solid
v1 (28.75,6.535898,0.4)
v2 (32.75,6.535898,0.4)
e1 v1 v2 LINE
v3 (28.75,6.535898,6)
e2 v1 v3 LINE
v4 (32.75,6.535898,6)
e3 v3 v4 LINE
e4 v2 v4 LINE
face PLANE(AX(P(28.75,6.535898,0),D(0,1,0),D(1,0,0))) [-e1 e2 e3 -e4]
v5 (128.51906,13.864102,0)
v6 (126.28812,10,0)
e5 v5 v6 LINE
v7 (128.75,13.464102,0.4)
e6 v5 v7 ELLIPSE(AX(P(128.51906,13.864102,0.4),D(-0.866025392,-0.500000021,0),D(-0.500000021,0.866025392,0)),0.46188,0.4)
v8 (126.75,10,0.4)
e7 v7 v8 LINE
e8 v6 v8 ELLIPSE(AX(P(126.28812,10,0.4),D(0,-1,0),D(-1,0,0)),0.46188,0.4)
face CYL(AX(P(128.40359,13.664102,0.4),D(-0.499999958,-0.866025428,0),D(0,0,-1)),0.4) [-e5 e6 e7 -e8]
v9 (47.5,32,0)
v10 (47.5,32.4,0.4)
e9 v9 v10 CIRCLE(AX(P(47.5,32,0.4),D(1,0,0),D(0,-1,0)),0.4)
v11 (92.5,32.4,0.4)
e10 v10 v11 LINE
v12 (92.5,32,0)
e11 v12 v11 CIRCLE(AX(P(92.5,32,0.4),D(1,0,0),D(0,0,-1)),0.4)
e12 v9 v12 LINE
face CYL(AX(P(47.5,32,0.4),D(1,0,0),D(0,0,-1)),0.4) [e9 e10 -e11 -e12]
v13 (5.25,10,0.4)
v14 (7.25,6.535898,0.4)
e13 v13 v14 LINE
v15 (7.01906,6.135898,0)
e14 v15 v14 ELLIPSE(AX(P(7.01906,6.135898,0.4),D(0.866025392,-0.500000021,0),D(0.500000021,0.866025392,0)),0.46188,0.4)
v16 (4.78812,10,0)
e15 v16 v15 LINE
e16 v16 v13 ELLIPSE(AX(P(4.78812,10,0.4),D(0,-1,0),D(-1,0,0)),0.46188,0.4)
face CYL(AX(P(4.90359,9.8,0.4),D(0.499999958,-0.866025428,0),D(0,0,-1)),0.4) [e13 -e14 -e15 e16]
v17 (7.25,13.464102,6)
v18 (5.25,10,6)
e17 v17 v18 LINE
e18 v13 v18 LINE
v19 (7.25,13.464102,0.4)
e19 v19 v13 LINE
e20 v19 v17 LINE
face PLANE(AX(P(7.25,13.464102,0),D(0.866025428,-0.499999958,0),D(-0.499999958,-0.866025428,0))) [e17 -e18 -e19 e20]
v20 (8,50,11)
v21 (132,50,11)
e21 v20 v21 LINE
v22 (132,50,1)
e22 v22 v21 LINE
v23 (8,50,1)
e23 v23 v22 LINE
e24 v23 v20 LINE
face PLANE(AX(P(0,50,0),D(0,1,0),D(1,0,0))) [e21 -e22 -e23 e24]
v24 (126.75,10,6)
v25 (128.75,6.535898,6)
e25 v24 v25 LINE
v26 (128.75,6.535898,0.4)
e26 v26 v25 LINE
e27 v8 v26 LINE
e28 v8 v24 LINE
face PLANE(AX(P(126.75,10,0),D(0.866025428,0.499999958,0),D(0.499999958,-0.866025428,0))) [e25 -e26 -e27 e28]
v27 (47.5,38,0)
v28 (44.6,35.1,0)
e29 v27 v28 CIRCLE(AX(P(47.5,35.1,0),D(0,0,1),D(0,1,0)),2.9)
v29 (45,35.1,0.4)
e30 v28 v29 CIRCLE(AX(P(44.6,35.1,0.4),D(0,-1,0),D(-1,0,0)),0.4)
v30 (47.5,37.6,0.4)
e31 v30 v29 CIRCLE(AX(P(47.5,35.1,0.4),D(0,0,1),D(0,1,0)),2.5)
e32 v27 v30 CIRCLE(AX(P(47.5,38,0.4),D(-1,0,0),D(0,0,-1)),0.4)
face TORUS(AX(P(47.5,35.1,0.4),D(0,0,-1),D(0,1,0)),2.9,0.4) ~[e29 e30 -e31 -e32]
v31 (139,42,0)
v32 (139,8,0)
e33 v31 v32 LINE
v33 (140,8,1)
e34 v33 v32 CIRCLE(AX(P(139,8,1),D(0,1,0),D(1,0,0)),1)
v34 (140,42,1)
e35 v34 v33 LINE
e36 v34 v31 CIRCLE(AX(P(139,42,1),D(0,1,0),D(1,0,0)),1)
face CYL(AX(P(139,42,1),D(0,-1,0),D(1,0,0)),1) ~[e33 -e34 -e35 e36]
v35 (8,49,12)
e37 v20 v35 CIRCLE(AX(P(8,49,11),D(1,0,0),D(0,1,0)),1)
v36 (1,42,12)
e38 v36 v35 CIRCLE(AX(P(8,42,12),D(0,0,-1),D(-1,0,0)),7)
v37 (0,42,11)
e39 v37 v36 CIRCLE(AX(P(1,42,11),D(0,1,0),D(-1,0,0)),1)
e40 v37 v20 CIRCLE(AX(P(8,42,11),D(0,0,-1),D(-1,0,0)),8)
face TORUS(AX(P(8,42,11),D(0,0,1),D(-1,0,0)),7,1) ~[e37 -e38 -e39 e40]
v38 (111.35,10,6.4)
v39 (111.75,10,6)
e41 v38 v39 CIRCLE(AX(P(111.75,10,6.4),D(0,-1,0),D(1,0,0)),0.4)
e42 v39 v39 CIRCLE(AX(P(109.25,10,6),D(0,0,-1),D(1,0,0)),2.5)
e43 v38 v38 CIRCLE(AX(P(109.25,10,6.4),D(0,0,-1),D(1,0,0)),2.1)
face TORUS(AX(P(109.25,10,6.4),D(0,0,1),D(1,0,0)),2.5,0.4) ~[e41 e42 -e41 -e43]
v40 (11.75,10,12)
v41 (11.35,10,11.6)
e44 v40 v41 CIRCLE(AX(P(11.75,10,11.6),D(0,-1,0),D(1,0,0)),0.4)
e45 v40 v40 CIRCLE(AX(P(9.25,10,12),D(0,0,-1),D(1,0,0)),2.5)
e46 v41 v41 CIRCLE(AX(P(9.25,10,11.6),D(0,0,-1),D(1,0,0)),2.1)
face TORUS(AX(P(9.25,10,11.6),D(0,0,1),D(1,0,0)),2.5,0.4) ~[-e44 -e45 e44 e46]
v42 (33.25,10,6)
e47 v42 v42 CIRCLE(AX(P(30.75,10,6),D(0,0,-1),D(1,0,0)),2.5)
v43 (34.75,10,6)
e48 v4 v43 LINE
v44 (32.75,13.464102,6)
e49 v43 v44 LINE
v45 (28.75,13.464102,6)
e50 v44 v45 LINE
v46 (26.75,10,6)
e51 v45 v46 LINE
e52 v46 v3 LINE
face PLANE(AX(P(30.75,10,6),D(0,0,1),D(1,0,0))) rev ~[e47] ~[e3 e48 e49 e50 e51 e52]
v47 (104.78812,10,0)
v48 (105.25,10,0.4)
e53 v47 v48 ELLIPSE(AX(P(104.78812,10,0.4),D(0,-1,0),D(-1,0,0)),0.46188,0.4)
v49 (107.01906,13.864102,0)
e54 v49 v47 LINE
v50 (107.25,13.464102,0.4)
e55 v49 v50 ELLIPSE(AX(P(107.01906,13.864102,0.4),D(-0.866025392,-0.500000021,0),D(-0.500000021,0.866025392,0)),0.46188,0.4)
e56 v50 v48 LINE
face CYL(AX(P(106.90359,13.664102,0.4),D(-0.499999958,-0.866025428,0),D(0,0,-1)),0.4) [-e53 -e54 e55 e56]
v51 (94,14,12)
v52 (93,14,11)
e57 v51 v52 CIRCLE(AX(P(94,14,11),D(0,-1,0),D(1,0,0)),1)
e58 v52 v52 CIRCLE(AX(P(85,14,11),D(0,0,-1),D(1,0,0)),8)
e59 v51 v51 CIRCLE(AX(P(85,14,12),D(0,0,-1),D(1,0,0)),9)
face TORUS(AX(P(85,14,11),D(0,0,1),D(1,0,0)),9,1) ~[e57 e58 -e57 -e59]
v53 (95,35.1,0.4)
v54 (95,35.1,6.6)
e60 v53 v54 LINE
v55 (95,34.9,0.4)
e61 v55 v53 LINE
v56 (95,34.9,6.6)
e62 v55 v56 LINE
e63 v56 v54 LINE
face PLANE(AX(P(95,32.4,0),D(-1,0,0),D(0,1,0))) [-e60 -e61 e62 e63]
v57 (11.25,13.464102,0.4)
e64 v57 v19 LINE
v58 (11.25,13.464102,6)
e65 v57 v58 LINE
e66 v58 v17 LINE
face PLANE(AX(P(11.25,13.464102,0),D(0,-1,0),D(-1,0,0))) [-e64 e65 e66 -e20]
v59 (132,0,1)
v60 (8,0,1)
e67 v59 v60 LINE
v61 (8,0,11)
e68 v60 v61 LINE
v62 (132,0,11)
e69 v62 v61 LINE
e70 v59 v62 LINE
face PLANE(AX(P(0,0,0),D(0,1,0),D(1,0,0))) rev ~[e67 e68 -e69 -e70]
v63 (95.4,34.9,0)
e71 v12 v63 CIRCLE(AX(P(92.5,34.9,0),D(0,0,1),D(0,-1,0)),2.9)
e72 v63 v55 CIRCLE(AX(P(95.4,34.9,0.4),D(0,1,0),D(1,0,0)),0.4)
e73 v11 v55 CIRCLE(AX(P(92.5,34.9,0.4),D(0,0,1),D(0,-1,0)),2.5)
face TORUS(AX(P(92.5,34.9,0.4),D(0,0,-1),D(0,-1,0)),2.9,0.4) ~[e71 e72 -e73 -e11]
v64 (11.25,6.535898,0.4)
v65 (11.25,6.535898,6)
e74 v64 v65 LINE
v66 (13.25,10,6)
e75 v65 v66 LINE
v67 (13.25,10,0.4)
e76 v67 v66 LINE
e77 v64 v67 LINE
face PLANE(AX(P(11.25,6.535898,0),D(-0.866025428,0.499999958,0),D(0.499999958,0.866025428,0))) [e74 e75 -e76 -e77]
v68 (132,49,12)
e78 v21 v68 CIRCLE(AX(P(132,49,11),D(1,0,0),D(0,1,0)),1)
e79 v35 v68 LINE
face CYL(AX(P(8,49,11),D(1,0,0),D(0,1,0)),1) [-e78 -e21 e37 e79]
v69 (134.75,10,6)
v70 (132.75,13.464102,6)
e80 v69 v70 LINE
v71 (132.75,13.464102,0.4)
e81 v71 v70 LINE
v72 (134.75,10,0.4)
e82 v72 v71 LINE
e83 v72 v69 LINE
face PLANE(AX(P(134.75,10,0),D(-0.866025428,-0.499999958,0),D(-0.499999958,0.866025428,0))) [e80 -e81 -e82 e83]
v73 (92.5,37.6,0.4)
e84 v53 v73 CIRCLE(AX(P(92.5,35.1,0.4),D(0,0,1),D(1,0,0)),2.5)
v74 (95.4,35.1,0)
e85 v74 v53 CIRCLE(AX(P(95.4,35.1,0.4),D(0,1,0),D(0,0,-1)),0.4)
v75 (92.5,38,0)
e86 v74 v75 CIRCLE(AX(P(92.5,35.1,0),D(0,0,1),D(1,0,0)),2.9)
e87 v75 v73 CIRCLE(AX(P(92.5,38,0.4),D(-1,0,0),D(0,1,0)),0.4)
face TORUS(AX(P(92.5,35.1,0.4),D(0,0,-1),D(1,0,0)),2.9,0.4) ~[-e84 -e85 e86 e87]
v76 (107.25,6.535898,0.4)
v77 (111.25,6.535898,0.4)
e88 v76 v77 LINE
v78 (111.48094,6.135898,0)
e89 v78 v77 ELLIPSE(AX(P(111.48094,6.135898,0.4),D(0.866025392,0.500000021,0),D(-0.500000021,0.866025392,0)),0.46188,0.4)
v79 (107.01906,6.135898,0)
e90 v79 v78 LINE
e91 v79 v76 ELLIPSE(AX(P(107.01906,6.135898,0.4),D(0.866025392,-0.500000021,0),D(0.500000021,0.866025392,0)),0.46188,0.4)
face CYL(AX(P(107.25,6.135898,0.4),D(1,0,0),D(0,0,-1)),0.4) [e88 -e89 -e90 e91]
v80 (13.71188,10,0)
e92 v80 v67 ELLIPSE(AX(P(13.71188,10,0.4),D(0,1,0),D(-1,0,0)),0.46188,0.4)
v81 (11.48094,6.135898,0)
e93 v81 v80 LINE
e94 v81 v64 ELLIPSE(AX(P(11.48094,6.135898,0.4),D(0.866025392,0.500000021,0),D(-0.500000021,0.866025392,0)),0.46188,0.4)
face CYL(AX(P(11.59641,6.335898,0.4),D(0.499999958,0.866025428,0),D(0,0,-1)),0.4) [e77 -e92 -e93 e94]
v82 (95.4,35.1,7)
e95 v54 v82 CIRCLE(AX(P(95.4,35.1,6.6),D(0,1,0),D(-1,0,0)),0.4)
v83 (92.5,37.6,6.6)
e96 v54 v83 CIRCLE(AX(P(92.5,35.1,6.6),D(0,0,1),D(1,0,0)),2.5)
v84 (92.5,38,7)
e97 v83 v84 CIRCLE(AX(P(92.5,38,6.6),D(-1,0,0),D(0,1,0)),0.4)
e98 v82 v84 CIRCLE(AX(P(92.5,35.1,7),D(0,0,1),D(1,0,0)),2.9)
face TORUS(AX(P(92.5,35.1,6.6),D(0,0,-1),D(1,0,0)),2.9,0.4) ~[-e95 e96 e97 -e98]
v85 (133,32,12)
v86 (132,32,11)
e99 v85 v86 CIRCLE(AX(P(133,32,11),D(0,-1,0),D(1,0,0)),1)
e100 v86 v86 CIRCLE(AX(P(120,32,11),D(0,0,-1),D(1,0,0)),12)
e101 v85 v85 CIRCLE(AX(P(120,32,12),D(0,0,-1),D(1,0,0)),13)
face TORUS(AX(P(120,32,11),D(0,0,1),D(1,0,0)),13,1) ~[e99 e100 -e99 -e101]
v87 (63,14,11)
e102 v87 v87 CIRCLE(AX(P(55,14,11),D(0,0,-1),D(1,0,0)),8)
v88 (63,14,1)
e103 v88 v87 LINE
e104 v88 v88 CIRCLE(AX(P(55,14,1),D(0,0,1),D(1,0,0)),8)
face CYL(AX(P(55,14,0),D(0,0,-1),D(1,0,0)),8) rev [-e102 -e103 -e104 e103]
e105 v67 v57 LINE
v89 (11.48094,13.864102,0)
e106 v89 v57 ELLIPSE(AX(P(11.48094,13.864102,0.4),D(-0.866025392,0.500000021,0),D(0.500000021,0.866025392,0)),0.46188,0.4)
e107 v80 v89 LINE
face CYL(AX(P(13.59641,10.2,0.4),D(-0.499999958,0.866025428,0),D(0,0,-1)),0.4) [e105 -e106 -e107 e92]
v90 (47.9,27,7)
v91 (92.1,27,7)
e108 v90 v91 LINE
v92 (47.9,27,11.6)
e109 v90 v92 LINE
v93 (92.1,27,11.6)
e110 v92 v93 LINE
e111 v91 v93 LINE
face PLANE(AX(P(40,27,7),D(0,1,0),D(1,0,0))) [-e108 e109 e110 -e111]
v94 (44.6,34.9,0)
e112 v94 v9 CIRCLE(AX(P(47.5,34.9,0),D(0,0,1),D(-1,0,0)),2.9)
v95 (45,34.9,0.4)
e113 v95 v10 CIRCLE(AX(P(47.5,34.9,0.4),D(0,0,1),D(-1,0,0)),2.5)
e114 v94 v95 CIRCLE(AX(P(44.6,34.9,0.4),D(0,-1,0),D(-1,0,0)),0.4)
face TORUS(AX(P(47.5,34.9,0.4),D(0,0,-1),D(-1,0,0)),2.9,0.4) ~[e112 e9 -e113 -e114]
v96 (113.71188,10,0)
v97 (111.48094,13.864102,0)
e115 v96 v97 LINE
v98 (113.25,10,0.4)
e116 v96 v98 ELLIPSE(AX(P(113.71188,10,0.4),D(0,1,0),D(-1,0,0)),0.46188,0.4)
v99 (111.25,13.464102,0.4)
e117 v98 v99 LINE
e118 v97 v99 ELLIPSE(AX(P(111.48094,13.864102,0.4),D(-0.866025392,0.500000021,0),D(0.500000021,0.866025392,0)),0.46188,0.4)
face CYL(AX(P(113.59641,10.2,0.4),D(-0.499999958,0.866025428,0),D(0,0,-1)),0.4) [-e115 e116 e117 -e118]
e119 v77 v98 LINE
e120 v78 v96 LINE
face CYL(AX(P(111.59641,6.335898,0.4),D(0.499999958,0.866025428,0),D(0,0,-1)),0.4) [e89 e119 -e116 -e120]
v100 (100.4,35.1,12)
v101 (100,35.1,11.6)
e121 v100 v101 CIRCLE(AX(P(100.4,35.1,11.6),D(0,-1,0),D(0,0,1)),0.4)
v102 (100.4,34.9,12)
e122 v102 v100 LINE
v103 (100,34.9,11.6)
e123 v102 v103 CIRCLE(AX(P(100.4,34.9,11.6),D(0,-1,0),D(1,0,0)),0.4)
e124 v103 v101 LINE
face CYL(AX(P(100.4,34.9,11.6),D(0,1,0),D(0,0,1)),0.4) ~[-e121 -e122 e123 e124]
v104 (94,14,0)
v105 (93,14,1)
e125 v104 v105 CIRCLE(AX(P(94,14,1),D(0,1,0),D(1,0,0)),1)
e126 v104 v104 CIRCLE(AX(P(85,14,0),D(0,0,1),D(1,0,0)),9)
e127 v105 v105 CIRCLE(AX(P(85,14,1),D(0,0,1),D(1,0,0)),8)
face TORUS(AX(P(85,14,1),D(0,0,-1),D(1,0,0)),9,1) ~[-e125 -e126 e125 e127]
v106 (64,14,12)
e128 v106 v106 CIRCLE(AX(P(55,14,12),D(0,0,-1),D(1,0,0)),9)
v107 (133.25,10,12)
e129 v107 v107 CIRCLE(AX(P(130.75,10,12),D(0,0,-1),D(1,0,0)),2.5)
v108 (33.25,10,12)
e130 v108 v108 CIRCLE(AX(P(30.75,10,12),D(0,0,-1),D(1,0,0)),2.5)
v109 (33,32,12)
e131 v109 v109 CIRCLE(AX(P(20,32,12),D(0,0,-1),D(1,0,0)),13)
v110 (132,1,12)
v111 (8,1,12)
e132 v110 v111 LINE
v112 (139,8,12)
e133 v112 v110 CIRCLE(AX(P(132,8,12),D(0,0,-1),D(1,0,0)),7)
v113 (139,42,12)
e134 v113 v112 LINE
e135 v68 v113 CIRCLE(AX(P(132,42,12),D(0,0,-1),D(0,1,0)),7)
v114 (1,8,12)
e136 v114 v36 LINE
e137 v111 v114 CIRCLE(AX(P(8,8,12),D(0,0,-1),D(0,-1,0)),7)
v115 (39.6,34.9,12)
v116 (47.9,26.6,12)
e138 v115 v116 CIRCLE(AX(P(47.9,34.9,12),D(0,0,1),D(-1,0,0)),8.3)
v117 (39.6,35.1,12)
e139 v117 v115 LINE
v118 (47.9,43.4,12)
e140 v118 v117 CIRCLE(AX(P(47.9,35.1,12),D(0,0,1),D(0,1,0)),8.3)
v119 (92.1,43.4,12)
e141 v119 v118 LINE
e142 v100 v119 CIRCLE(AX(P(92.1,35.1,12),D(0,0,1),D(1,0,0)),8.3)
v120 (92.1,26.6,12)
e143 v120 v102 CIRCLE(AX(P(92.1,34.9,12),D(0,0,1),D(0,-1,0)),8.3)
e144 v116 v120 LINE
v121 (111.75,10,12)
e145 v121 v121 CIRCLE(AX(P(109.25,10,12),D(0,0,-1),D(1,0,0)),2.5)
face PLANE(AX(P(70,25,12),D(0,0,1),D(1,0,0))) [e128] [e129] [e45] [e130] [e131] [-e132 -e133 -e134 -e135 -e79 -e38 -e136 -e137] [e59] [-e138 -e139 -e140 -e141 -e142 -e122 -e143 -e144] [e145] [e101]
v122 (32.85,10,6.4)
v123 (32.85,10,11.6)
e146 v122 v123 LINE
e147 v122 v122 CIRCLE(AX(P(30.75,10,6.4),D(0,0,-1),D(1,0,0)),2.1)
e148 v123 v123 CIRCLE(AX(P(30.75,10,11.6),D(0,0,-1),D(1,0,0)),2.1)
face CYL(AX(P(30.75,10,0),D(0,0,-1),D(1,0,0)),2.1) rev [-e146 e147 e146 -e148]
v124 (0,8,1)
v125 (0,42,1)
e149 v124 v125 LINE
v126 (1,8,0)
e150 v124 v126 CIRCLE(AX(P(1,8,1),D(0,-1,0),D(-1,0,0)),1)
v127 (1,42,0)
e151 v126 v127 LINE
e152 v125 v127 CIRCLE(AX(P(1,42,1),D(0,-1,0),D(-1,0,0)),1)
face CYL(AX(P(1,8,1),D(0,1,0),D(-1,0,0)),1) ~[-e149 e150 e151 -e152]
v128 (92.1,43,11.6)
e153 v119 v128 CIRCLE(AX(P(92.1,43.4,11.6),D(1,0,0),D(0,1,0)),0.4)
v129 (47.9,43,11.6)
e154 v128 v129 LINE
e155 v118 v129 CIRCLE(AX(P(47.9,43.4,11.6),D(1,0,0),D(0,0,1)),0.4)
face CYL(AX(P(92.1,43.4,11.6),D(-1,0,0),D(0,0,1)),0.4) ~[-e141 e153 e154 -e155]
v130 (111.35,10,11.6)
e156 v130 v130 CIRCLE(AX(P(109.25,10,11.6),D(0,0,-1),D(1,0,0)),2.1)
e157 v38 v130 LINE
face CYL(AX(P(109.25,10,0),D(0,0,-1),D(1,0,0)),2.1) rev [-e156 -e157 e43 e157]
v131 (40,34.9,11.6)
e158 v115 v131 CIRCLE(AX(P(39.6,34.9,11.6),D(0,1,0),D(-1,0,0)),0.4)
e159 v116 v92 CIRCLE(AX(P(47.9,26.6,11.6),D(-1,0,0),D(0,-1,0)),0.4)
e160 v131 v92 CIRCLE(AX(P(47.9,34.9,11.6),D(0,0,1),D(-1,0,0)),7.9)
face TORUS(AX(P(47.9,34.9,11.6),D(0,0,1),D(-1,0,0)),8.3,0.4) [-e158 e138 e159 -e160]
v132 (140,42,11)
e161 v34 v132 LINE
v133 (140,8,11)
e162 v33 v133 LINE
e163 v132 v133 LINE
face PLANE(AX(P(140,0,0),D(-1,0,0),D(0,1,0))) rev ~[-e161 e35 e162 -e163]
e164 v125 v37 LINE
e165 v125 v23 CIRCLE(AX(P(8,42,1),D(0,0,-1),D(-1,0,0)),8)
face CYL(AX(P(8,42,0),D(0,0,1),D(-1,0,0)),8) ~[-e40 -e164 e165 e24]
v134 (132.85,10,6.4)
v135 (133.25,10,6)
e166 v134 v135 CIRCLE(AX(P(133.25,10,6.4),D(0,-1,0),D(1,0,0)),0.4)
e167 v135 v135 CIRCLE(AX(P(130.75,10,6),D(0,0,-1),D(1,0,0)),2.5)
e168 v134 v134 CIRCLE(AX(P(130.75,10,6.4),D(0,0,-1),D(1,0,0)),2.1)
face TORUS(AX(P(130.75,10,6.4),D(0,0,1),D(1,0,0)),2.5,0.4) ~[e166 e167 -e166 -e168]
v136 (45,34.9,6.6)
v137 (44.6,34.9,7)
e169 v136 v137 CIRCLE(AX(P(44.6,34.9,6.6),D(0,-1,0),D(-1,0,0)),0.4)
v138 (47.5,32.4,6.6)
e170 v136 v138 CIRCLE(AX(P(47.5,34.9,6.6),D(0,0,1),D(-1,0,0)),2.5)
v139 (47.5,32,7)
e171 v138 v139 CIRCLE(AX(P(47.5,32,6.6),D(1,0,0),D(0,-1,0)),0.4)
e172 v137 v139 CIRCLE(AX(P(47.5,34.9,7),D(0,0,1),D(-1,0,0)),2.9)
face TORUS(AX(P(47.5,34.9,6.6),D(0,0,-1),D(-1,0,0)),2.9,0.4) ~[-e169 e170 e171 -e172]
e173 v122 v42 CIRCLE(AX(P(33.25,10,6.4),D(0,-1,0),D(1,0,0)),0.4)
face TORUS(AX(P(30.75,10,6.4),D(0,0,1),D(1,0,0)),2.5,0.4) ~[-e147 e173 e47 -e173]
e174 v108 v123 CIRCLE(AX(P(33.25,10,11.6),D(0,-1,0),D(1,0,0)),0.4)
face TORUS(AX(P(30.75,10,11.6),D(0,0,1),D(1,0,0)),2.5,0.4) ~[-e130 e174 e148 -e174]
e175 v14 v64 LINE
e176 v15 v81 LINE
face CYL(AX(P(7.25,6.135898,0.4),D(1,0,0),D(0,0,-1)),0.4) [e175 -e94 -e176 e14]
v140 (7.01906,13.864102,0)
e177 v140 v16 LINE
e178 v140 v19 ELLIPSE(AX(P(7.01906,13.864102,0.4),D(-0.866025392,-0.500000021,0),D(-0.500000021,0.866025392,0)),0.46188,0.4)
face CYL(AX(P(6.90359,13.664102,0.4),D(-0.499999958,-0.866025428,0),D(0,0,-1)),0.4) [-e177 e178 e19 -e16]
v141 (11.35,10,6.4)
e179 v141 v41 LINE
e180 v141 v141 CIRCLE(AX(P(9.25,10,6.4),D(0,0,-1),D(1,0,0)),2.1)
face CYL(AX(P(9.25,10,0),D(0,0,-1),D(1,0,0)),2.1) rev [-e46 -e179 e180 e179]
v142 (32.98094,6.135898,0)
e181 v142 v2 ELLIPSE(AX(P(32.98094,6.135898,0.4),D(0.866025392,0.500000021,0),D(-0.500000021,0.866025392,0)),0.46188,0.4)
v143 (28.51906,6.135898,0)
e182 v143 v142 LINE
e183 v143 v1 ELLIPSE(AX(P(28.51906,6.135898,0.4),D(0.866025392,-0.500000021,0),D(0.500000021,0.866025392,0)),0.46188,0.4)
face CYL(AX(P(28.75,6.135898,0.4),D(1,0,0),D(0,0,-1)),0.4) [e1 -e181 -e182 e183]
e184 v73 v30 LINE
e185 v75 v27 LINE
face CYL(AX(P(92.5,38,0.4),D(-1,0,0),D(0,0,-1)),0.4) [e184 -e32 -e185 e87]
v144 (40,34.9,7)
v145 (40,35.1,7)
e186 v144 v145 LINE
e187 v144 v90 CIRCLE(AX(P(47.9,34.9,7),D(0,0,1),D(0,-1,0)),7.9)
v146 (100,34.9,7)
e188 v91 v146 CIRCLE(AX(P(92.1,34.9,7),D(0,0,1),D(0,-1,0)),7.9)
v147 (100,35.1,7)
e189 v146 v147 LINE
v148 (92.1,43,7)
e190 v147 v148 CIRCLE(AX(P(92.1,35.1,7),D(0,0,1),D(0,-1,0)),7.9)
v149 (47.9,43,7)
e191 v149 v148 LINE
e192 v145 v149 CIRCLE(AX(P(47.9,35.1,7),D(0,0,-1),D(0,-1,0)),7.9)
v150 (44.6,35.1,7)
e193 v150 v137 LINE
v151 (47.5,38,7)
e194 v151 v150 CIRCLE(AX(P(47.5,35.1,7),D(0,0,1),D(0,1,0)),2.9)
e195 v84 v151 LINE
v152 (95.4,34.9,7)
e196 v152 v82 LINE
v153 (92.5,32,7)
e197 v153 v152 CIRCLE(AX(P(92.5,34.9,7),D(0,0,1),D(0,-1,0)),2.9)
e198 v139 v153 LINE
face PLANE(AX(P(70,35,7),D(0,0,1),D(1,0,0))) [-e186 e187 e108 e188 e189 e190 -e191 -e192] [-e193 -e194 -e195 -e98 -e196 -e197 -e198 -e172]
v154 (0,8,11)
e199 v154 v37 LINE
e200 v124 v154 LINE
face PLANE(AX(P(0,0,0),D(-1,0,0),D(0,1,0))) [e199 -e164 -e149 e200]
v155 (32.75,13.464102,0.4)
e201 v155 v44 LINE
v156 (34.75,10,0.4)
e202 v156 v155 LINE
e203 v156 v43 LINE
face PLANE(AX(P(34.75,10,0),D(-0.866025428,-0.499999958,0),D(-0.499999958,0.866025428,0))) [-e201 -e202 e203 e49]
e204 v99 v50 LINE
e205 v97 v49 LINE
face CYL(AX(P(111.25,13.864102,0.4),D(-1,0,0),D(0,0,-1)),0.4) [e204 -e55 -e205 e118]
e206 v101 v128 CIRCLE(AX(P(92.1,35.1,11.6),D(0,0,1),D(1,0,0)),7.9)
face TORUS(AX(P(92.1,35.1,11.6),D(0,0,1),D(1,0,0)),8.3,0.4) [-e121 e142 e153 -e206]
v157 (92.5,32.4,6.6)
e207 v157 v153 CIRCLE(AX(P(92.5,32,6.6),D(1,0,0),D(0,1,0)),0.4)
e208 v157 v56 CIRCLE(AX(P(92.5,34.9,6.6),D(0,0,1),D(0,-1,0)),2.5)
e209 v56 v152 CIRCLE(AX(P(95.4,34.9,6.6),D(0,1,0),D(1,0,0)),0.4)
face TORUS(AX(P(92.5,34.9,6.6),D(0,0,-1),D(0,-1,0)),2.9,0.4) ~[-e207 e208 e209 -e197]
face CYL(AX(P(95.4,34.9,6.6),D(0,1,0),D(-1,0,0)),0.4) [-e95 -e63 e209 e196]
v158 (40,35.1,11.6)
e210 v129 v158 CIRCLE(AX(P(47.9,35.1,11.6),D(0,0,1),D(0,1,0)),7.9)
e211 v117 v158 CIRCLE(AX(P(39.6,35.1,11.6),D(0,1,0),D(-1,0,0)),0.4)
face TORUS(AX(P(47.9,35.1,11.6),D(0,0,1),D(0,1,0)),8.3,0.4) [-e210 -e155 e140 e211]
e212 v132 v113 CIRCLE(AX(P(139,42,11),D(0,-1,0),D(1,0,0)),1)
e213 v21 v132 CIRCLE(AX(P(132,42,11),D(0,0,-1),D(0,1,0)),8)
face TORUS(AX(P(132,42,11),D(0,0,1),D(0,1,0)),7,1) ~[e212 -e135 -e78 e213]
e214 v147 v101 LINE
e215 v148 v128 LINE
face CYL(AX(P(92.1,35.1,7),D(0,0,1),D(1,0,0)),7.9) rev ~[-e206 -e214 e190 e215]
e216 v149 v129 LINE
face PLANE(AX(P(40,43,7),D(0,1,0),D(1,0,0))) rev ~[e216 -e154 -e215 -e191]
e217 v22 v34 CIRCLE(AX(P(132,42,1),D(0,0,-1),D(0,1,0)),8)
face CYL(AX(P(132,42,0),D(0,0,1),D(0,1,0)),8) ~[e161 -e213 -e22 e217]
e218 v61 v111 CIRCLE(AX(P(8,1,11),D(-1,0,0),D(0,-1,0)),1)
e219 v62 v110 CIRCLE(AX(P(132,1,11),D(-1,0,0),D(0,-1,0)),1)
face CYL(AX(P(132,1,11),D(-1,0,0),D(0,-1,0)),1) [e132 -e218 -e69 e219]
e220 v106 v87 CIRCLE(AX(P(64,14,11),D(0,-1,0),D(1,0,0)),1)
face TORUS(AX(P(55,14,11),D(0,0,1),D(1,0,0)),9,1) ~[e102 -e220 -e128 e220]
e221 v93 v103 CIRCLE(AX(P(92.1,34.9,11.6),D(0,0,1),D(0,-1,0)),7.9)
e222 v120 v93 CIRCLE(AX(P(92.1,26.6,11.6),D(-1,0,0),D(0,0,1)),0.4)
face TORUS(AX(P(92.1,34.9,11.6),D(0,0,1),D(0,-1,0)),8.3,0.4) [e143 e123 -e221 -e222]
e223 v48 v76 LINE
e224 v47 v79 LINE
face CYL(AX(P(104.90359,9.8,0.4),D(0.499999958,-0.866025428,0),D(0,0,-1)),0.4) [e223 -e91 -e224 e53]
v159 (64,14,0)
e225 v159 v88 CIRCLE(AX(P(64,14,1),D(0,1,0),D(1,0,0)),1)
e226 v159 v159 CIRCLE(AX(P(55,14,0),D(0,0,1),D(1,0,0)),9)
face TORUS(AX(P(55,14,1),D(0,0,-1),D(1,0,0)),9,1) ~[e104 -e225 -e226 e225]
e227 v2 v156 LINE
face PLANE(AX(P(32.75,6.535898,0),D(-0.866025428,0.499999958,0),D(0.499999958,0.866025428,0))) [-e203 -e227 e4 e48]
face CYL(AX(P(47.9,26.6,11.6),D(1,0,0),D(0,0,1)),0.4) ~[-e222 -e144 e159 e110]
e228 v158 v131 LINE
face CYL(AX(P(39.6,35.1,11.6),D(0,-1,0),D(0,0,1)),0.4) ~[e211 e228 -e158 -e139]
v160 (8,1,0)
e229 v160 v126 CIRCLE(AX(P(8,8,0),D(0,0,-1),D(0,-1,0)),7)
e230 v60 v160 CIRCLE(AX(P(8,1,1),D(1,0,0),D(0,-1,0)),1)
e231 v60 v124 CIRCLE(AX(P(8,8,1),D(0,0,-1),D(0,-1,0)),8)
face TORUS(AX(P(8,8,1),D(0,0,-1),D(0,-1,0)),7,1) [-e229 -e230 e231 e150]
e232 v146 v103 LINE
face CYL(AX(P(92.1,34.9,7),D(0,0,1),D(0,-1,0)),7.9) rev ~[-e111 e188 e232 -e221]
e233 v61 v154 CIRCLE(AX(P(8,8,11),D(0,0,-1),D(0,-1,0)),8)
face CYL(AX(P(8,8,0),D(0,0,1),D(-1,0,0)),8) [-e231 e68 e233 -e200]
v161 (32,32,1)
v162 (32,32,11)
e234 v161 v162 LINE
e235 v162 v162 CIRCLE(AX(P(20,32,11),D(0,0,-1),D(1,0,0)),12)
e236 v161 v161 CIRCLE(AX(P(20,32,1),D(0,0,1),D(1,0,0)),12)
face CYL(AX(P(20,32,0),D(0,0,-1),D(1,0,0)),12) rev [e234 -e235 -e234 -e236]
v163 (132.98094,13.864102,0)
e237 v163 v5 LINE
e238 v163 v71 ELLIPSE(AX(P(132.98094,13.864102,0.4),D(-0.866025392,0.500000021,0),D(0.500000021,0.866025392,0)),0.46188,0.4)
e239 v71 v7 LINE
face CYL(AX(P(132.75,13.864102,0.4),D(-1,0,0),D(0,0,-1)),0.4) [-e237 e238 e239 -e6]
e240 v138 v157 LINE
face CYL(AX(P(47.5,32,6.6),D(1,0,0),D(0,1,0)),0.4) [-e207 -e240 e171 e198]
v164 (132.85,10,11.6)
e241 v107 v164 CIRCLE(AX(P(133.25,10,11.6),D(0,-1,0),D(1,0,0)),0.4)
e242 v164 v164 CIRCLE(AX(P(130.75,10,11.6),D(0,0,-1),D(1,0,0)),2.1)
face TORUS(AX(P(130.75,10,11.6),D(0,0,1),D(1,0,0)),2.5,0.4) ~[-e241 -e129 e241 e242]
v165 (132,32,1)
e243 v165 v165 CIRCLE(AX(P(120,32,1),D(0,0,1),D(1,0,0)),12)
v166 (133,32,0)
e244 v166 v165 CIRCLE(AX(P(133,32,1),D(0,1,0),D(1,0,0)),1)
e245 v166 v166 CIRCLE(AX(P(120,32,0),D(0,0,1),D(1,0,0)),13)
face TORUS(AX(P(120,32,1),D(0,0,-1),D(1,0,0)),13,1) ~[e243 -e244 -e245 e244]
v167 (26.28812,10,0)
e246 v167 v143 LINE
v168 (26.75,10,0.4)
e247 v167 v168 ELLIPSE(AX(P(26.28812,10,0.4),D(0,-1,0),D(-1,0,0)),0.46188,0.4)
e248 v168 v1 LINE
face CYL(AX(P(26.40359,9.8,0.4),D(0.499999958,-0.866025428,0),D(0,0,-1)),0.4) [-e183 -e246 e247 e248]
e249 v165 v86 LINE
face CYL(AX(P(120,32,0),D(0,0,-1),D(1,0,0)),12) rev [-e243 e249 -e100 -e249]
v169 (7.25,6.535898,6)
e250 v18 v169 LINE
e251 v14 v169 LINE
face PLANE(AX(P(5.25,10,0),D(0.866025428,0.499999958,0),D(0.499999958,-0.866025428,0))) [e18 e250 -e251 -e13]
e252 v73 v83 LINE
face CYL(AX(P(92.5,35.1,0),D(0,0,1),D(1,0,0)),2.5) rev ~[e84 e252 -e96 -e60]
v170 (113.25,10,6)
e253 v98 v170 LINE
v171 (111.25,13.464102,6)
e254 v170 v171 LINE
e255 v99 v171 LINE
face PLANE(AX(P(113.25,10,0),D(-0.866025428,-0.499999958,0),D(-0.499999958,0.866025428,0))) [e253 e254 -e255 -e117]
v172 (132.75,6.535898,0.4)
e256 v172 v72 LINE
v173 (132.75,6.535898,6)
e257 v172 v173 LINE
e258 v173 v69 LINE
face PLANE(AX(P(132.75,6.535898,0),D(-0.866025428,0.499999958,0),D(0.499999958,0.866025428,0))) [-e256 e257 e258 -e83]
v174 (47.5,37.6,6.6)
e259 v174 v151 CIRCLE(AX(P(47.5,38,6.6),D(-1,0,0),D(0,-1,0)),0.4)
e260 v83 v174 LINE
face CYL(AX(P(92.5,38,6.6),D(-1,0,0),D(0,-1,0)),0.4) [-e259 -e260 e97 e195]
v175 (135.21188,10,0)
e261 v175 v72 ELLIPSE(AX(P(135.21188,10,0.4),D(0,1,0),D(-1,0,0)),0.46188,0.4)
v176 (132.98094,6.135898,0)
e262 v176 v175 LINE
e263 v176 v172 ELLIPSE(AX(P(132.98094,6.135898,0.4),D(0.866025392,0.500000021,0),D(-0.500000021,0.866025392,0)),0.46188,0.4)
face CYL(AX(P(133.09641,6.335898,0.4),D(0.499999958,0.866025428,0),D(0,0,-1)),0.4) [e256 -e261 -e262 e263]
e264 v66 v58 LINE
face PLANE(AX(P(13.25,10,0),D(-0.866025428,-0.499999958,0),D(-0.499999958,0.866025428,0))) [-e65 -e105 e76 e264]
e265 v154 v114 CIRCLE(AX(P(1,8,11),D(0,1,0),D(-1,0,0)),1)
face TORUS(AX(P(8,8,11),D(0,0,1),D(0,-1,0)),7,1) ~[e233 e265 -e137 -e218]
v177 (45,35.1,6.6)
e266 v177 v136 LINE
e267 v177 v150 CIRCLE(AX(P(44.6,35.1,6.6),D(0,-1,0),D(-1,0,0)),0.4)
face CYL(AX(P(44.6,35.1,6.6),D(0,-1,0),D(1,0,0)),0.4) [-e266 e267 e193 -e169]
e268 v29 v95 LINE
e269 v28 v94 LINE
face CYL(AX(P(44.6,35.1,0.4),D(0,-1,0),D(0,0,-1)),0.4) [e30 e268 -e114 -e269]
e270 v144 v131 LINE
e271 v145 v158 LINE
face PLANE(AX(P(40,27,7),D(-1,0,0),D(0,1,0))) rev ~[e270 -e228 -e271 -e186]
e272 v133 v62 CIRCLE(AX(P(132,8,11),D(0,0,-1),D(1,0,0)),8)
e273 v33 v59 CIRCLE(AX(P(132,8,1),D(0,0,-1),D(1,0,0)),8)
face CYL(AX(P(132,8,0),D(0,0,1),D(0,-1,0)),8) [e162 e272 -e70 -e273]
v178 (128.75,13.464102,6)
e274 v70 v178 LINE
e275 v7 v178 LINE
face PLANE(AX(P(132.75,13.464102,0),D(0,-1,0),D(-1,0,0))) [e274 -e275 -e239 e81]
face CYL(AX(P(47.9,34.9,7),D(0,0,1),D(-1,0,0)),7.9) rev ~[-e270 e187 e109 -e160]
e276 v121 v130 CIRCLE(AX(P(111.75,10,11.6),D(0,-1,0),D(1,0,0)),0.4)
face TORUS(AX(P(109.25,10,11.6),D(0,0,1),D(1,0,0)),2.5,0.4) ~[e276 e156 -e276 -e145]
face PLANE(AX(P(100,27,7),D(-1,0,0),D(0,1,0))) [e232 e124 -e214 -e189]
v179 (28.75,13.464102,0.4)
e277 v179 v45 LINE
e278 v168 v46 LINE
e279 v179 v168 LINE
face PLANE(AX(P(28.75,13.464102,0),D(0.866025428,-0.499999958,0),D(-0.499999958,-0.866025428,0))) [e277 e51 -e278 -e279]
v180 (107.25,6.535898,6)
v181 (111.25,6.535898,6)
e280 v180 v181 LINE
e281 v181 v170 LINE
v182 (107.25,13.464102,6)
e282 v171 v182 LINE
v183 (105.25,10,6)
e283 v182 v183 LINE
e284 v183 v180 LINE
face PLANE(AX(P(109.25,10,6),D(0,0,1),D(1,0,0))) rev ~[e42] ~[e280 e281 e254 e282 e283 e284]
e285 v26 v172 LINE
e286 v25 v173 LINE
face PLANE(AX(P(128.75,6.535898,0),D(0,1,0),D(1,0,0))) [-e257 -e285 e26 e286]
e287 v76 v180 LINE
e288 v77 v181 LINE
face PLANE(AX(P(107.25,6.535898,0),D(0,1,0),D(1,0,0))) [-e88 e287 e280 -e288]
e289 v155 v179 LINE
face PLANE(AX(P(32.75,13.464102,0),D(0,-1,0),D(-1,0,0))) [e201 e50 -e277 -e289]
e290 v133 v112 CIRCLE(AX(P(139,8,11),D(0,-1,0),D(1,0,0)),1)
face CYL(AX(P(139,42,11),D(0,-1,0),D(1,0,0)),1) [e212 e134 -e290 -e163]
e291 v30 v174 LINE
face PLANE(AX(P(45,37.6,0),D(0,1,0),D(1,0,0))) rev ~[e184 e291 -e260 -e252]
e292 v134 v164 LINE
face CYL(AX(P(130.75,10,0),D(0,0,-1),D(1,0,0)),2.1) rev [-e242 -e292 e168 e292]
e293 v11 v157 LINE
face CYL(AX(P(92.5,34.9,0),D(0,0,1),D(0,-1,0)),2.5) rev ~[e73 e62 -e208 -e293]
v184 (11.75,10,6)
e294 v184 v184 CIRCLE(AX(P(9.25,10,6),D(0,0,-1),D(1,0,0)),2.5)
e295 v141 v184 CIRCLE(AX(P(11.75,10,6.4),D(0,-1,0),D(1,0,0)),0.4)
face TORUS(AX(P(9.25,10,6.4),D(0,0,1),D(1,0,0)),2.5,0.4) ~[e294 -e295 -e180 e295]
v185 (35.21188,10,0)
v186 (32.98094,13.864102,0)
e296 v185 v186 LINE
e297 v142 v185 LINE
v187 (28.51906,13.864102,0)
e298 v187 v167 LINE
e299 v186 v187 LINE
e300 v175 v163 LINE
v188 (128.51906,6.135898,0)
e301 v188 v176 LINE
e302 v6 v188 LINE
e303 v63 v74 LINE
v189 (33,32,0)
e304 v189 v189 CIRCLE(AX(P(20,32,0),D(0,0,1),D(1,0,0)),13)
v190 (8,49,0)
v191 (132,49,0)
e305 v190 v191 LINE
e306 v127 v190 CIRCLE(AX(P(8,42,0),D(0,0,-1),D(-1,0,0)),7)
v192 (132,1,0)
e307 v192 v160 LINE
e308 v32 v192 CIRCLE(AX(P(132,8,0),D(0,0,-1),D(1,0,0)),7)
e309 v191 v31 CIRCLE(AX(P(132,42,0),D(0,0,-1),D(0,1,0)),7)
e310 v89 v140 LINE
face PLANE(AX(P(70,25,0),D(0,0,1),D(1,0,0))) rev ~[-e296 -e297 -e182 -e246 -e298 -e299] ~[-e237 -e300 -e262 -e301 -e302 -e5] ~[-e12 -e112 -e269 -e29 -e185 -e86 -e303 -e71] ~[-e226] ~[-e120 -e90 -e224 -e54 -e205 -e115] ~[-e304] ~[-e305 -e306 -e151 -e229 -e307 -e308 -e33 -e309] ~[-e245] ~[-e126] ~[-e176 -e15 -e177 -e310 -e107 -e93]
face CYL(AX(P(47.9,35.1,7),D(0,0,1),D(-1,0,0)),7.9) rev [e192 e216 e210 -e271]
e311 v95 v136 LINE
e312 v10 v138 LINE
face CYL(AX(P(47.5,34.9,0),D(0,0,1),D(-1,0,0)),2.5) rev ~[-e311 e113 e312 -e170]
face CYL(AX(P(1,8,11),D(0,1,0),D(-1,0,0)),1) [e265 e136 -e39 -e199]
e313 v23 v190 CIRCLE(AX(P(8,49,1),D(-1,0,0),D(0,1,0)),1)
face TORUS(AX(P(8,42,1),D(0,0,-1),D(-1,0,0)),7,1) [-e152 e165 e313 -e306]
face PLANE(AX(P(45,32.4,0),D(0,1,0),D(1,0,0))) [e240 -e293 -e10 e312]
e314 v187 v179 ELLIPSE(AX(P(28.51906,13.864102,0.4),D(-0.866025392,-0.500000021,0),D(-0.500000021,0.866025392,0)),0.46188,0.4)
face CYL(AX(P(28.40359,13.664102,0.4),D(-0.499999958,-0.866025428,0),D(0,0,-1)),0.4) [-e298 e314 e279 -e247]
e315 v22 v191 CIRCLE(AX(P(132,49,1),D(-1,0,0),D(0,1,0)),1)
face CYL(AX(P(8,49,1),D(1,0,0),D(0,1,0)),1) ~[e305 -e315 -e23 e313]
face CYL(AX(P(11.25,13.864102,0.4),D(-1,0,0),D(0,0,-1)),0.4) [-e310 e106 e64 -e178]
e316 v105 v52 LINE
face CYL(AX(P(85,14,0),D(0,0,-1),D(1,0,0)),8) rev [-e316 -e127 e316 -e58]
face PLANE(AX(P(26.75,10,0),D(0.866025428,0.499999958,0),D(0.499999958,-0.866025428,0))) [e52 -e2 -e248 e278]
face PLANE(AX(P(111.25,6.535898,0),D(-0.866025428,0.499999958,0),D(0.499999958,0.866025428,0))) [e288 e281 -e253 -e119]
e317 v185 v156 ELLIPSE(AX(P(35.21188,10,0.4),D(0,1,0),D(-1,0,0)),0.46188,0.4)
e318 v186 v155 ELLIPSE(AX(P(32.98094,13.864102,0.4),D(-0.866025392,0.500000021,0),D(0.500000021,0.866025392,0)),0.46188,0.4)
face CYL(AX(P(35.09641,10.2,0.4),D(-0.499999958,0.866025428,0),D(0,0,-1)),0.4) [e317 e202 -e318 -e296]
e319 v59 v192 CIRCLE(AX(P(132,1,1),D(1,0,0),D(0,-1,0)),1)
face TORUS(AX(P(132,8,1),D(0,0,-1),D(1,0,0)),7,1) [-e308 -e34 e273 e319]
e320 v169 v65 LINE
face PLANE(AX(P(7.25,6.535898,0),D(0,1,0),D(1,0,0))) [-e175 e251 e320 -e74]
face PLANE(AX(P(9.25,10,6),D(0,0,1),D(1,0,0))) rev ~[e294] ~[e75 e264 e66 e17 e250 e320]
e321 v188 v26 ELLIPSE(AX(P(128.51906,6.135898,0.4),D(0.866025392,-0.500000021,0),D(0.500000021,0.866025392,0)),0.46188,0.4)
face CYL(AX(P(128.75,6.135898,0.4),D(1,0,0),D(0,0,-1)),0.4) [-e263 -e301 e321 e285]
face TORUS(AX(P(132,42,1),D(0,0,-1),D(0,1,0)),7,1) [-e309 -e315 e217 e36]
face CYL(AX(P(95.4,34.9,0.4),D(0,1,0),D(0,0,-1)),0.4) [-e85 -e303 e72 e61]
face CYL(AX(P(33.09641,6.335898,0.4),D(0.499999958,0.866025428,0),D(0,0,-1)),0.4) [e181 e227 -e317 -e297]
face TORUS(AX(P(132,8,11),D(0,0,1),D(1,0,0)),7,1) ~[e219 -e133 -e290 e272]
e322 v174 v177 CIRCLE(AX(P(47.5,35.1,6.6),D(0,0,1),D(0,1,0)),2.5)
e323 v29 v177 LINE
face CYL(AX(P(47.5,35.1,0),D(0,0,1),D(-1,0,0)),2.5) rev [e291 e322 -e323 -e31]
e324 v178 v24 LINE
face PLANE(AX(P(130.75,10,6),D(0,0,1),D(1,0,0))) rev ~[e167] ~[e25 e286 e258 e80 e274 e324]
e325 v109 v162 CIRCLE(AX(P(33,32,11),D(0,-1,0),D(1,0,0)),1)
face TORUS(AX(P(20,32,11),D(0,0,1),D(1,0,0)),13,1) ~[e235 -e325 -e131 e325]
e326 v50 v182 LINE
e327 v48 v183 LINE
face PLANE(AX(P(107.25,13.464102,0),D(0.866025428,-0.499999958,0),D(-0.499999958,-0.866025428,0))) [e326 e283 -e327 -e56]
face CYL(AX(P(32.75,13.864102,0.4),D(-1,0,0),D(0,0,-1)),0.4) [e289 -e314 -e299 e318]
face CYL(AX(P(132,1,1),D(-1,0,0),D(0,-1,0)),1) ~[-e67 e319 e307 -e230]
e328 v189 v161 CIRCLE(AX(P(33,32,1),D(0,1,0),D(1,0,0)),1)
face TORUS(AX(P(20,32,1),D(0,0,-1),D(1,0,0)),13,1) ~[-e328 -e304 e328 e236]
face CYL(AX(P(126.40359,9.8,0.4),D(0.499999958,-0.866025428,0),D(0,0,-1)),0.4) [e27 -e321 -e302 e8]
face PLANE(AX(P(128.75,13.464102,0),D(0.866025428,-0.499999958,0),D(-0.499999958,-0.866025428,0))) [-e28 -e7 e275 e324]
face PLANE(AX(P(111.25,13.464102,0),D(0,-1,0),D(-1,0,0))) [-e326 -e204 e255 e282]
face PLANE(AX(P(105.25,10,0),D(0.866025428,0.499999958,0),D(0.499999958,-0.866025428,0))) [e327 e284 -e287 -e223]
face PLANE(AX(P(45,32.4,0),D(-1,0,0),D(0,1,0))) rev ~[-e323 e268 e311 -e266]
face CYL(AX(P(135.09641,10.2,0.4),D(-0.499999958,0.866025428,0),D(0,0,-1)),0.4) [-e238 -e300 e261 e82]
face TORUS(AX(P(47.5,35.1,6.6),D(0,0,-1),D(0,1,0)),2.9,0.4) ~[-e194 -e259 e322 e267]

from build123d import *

# Parameters (mm, degrees)
CYLINDER014_R     = 8
CYLINDER014_DEPTH = 30
CYLINDER013_R     = 8
CYLINDER013_DEPTH = 30
CYLINDER012_R     = 12
CYLINDER012_DEPTH = 30
CYLINDER_R        = 12
CYLINDER_DEPTH    = 30
CYLINDER011_R     = 2.1
CYLINDER011_DEPTH = 20
CYLINDER010_R     = 2.1
CYLINDER010_DEPTH = 20
CYLINDER009_R     = 2.1
CYLINDER009_DEPTH = 20
CYLINDER007_R     = 2.1
CYLINDER007_DEPTH = 20
EXTRUDE006_DEPTH  = 6
EXTRUDE005_DEPTH  = 6
EXTRUDE003_DEPTH  = 6
EXTRUDE001_DEPTH  = 6
BOX014_W          = 50
BOX014_H          = 5.2
BOX014_DEPTH      = 20
FILLET005_R       = 2.5
BOX013_W          = 60
BOX013_H          = 16
BOX013_DEPTH      = 20
FILLET004_R       = 7.9
BOX_W             = 140
BOX_H             = 50
BOX_DEPTH         = 12
FILLET_R          = 8
FILLET006_R       = 1
FILLET007_R       = 0.4


with BuildPart() as cylinder014:
    # Cylinder014 → Cylinder014 (new body)
    with BuildSketch(Plane(origin=(85, 14, 0), x_dir=(1, 0, 0), z_dir=(0, 0, 1))):
        Circle(CYLINDER014_R)
    extrude(amount=CYLINDER014_DEPTH)


with BuildPart() as cylinder013:
    # Cylinder013 → Cylinder013 (new body)
    with BuildSketch(Plane(origin=(55, 14, 0), x_dir=(1, 0, 0), z_dir=(0, 0, 1))):
        Circle(CYLINDER013_R)
    extrude(amount=CYLINDER013_DEPTH)


with BuildPart() as cylinder012:
    # Cylinder012 → Cylinder012 (new body)
    with BuildSketch(Plane(origin=(120, 32, 0), x_dir=(1, 0, 0), z_dir=(0, 0, 1))):
        Circle(CYLINDER012_R)
    extrude(amount=CYLINDER012_DEPTH)


with BuildPart() as cylinder:
    # Cylinder → Cylinder (new body)
    with BuildSketch(Plane(origin=(20, 32, 0), x_dir=(1, 0, 0), z_dir=(0, 0, 1))):
        Circle(CYLINDER_R)
    extrude(amount=CYLINDER_DEPTH)


with BuildPart() as bohrung006:
    # Cylinder011 → Cylinder011 (new body)
    with BuildSketch(Plane(origin=(109.25, 10, 0), x_dir=(1, 0, 0), z_dir=(0, 0, 1))):
        Circle(CYLINDER011_R)
    extrude(amount=CYLINDER011_DEPTH)


with BuildPart() as bohrung005:
    # Cylinder010 → Cylinder010 (new body)
    with BuildSketch(Plane(origin=(130.75, 10, 0), x_dir=(1, 0, 0), z_dir=(0, 0, 1))):
        Circle(CYLINDER010_R)
    extrude(amount=CYLINDER010_DEPTH)


with BuildPart() as bohrung004:
    # Cylinder009 → Cylinder009 (new body)
    with BuildSketch(Plane(origin=(30.75, 10, 0), x_dir=(1, 0, 0), z_dir=(0, 0, 1))):
        Circle(CYLINDER009_R)
    extrude(amount=CYLINDER009_DEPTH)


with BuildPart() as bohrung002:
    # Cylinder007 → Cylinder007 (new body)
    with BuildSketch(Plane(origin=(9.25, 10, 0), x_dir=(1, 0, 0), z_dir=(0, 0, 1))):
        Circle(CYLINDER007_R)
    extrude(amount=CYLINDER007_DEPTH)


with BuildPart() as mutter007:
    # Polygon006 → Extrude006 (new body)
    with BuildSketch(Plane.XY):
        Polygon((4, 0), (2, 3.464102), (-2, 3.464102), (-4, 0), (-2, -3.464102), (2, -3.464102), align=None)
    extrude(amount=EXTRUDE006_DEPTH)


with BuildPart() as mutter007_1:
    # Extrude006 placement: moved
    add(mutter007.part.moved(Location((109.25, 10, 0))))


with BuildPart() as mutter006:
    # Polygon005 → Extrude005 (new body)
    with BuildSketch(Plane.XY):
        Polygon((4, 0), (2, 3.464102), (-2, 3.464102), (-4, 0), (-2, -3.464102), (2, -3.464102), align=None)
    extrude(amount=EXTRUDE005_DEPTH)


with BuildPart() as mutter006_1:
    # Extrude005 placement: moved
    add(mutter006.part.moved(Location((130.75, 10, 0))))


with BuildPart() as mutter004:
    # Polygon003 → Extrude003 (new body)
    with BuildSketch(Plane.XY):
        Polygon((4, 0), (2, 3.464102), (-2, 3.464102), (-4, 0), (-2, -3.464102), (2, -3.464102), align=None)
    extrude(amount=EXTRUDE003_DEPTH)


with BuildPart() as mutter004_1:
    # Extrude003 placement: moved
    add(mutter004.part.moved(Location((30.75, 10, 0))))


with BuildPart() as mutter002:
    # Polygon001 → Extrude001 (new body)
    with BuildSketch(Plane.XY):
        Polygon((4, 0), (2, 3.464102), (-2, 3.464102), (-4, 0), (-2, -3.464102), (2, -3.464102), align=None)
    extrude(amount=EXTRUDE001_DEPTH)


with BuildPart() as mutter002_1:
    # Extrude001 placement: moved
    add(mutter002.part.moved(Location((9.25, 10, 0))))


with BuildPart() as fillet005:
    # Box014 → Box014 (new body)
    with BuildSketch(Plane(origin=(45, 32.4, 0), x_dir=(1, 0, 0), z_dir=(0, 0, 1))):
        with Locations((25, 2.6)):
            Rectangle(BOX014_W, BOX014_H)
    extrude(amount=BOX014_DEPTH)

    # Fillet005
    fillet005_edges = [fillet005.edges().sort_by_distance(p)[0] for p in [
        (45, 32.4, 10),
        (45, 37.6, 10),
        (95, 32.4, 10),
        (95, 37.6, 10),
    ]]
    fillet(fillet005_edges, radius=FILLET005_R)


with BuildPart() as fillet004:
    # Box013 → Box013 (new body)
    with BuildSketch(Plane(origin=(40, 27, 7), x_dir=(1, 0, 0), z_dir=(0, 0, 1))):
        with Locations((30, 8)):
            Rectangle(BOX013_W, BOX013_H)
    extrude(amount=BOX013_DEPTH)

    # Fillet004
    fillet004_edges = [fillet004.edges().sort_by_distance(p)[0] for p in [
        (40, 27, 17),
        (40, 43, 17),
        (100, 27, 17),
        (100, 43, 17),
    ]]
    fillet(fillet004_edges, radius=FILLET004_R)


with BuildPart() as fillet007:
    # Box → Box (new body)
    with BuildSketch(Plane.XY):
        with Locations((70, 25)):
            Rectangle(BOX_W, BOX_H)
    extrude(amount=BOX_DEPTH)

    # Cut: cut Fillet004
    add(fillet004.part, mode=Mode.SUBTRACT)

    # Cut001: cut Fillet005
    add(fillet005.part, mode=Mode.SUBTRACT)

    # Cut002: cut Mutter002
    add(mutter002_1.part, mode=Mode.SUBTRACT)

    # Cut003: cut Mutter004
    add(mutter004_1.part, mode=Mode.SUBTRACT)

    # Cut004: cut Mutter006
    add(mutter006_1.part, mode=Mode.SUBTRACT)

    # Cut005: cut Mutter007
    add(mutter007_1.part, mode=Mode.SUBTRACT)

    # Cut006: cut Bohrung002
    add(bohrung002.part, mode=Mode.SUBTRACT)

    # Cut007: cut Bohrung004
    add(bohrung004.part, mode=Mode.SUBTRACT)

    # Cut008: cut Bohrung005
    add(bohrung005.part, mode=Mode.SUBTRACT)

    # Cut009: cut Bohrung006
    add(bohrung006.part, mode=Mode.SUBTRACT)

    # Cut010: cut Cylinder
    add(cylinder.part, mode=Mode.SUBTRACT)

    # Cut011: cut Cylinder012
    add(cylinder012.part, mode=Mode.SUBTRACT)

    # Cut012: cut Cylinder013
    add(cylinder013.part, mode=Mode.SUBTRACT)

    # Cut013: cut Cylinder014
    add(cylinder014.part, mode=Mode.SUBTRACT)

    # Fillet
    fillet_edges = [fillet007.edges().sort_by_distance(p)[0] for p in [
        (0, 0, 6),
        (0, 50, 6),
        (140, 0, 6),
        (140, 50, 6),
    ]]
    fillet(fillet_edges, radius=FILLET_R)

    # Fillet006
    fillet006_edges = [fillet007.edges().sort_by_distance(p)[0] for p in [
        (0, 25, 12),
        (0, 25, 0),
        (2.343146, 2.343146, 12),
        (2.343146, 47.656854, 12),
        (70, 0, 12),
        (70, 50, 12),
        (137.656854, 2.343146, 12),
        (137.656854, 47.656854, 12),
        (140, 25, 12),
        (47, 14, 12),
        (77, 14, 12),
        (108, 32, 12),
        (8, 32, 12),
        (2.343146, 2.343146, 0),
        (2.343146, 47.656854, 0),
        (70, 0, 0),
        (70, 50, 0),
        (137.656854, 2.343146, 0),
        (137.656854, 47.656854, 0),
        (140, 25, 0),
        (47, 14, 0),
        (77, 14, 0),
        (108, 32, 0),
        (8, 32, 0),
    ]]
    fillet(fillet006_edges, radius=FILLET006_R)

    # Fillet007
    fillet007_edges = [fillet007.edges().sort_by_distance(p)[0] for p in [
        (45.732233, 33.132233, 0),
        (70, 32.4, 0),
        (45.732233, 36.867767, 0),
        (94.267767, 33.132233, 0),
        (70, 37.6, 0),
        (94.267767, 36.867767, 0),
        (112.25, 11.732051, 0),
        (112.25, 8.267949, 0),
        (109.25, 13.464102, 0),
        (109.25, 6.535898, 0),
        (106.25, 11.732051, 0),
        (106.25, 8.267949, 0),
        (133.75, 11.732051, 0),
        (133.75, 8.267949, 0),
        (130.75, 13.464102, 0),
        (130.75, 6.535898, 0),
        (127.75, 11.732051, 0),
        (127.75, 8.267949, 0),
        (12.25, 11.732051, 0),
        (12.25, 8.267949, 0),
        (9.25, 13.464102, 0),
        (9.25, 6.535898, 0),
        (6.25, 11.732051, 0),
        (6.25, 8.267949, 0),
        (33.75, 11.732051, 0),
        (33.75, 8.267949, 0),
        (30.75, 13.464102, 0),
        (30.75, 6.535898, 0),
        (27.75, 11.732051, 0),
        (27.75, 8.267949, 0),
        (42.313856, 29.313856, 12),
        (70, 27, 12),
        (42.313856, 40.686144, 12),
        (97.686144, 29.313856, 12),
        (70, 43, 12),
        (97.686144, 40.686144, 12),
        (107.15, 10, 12),
        (128.65, 10, 12),
        (7.15, 10, 12),
        (28.65, 10, 12),
        (45.732233, 33.132233, 7),
        (70, 32.4, 7),
        (45.732233, 36.867767, 7),
        (94.267767, 33.132233, 7),
        (70, 37.6, 7),
        (94.267767, 36.867767, 7),
        (107.15, 10, 6),
        (128.65, 10, 6),
        (7.15, 10, 6),
        (28.65, 10, 6),
    ]]
    fillet(fillet007_edges, radius=FILLET007_R)


solid = fillet007.part
